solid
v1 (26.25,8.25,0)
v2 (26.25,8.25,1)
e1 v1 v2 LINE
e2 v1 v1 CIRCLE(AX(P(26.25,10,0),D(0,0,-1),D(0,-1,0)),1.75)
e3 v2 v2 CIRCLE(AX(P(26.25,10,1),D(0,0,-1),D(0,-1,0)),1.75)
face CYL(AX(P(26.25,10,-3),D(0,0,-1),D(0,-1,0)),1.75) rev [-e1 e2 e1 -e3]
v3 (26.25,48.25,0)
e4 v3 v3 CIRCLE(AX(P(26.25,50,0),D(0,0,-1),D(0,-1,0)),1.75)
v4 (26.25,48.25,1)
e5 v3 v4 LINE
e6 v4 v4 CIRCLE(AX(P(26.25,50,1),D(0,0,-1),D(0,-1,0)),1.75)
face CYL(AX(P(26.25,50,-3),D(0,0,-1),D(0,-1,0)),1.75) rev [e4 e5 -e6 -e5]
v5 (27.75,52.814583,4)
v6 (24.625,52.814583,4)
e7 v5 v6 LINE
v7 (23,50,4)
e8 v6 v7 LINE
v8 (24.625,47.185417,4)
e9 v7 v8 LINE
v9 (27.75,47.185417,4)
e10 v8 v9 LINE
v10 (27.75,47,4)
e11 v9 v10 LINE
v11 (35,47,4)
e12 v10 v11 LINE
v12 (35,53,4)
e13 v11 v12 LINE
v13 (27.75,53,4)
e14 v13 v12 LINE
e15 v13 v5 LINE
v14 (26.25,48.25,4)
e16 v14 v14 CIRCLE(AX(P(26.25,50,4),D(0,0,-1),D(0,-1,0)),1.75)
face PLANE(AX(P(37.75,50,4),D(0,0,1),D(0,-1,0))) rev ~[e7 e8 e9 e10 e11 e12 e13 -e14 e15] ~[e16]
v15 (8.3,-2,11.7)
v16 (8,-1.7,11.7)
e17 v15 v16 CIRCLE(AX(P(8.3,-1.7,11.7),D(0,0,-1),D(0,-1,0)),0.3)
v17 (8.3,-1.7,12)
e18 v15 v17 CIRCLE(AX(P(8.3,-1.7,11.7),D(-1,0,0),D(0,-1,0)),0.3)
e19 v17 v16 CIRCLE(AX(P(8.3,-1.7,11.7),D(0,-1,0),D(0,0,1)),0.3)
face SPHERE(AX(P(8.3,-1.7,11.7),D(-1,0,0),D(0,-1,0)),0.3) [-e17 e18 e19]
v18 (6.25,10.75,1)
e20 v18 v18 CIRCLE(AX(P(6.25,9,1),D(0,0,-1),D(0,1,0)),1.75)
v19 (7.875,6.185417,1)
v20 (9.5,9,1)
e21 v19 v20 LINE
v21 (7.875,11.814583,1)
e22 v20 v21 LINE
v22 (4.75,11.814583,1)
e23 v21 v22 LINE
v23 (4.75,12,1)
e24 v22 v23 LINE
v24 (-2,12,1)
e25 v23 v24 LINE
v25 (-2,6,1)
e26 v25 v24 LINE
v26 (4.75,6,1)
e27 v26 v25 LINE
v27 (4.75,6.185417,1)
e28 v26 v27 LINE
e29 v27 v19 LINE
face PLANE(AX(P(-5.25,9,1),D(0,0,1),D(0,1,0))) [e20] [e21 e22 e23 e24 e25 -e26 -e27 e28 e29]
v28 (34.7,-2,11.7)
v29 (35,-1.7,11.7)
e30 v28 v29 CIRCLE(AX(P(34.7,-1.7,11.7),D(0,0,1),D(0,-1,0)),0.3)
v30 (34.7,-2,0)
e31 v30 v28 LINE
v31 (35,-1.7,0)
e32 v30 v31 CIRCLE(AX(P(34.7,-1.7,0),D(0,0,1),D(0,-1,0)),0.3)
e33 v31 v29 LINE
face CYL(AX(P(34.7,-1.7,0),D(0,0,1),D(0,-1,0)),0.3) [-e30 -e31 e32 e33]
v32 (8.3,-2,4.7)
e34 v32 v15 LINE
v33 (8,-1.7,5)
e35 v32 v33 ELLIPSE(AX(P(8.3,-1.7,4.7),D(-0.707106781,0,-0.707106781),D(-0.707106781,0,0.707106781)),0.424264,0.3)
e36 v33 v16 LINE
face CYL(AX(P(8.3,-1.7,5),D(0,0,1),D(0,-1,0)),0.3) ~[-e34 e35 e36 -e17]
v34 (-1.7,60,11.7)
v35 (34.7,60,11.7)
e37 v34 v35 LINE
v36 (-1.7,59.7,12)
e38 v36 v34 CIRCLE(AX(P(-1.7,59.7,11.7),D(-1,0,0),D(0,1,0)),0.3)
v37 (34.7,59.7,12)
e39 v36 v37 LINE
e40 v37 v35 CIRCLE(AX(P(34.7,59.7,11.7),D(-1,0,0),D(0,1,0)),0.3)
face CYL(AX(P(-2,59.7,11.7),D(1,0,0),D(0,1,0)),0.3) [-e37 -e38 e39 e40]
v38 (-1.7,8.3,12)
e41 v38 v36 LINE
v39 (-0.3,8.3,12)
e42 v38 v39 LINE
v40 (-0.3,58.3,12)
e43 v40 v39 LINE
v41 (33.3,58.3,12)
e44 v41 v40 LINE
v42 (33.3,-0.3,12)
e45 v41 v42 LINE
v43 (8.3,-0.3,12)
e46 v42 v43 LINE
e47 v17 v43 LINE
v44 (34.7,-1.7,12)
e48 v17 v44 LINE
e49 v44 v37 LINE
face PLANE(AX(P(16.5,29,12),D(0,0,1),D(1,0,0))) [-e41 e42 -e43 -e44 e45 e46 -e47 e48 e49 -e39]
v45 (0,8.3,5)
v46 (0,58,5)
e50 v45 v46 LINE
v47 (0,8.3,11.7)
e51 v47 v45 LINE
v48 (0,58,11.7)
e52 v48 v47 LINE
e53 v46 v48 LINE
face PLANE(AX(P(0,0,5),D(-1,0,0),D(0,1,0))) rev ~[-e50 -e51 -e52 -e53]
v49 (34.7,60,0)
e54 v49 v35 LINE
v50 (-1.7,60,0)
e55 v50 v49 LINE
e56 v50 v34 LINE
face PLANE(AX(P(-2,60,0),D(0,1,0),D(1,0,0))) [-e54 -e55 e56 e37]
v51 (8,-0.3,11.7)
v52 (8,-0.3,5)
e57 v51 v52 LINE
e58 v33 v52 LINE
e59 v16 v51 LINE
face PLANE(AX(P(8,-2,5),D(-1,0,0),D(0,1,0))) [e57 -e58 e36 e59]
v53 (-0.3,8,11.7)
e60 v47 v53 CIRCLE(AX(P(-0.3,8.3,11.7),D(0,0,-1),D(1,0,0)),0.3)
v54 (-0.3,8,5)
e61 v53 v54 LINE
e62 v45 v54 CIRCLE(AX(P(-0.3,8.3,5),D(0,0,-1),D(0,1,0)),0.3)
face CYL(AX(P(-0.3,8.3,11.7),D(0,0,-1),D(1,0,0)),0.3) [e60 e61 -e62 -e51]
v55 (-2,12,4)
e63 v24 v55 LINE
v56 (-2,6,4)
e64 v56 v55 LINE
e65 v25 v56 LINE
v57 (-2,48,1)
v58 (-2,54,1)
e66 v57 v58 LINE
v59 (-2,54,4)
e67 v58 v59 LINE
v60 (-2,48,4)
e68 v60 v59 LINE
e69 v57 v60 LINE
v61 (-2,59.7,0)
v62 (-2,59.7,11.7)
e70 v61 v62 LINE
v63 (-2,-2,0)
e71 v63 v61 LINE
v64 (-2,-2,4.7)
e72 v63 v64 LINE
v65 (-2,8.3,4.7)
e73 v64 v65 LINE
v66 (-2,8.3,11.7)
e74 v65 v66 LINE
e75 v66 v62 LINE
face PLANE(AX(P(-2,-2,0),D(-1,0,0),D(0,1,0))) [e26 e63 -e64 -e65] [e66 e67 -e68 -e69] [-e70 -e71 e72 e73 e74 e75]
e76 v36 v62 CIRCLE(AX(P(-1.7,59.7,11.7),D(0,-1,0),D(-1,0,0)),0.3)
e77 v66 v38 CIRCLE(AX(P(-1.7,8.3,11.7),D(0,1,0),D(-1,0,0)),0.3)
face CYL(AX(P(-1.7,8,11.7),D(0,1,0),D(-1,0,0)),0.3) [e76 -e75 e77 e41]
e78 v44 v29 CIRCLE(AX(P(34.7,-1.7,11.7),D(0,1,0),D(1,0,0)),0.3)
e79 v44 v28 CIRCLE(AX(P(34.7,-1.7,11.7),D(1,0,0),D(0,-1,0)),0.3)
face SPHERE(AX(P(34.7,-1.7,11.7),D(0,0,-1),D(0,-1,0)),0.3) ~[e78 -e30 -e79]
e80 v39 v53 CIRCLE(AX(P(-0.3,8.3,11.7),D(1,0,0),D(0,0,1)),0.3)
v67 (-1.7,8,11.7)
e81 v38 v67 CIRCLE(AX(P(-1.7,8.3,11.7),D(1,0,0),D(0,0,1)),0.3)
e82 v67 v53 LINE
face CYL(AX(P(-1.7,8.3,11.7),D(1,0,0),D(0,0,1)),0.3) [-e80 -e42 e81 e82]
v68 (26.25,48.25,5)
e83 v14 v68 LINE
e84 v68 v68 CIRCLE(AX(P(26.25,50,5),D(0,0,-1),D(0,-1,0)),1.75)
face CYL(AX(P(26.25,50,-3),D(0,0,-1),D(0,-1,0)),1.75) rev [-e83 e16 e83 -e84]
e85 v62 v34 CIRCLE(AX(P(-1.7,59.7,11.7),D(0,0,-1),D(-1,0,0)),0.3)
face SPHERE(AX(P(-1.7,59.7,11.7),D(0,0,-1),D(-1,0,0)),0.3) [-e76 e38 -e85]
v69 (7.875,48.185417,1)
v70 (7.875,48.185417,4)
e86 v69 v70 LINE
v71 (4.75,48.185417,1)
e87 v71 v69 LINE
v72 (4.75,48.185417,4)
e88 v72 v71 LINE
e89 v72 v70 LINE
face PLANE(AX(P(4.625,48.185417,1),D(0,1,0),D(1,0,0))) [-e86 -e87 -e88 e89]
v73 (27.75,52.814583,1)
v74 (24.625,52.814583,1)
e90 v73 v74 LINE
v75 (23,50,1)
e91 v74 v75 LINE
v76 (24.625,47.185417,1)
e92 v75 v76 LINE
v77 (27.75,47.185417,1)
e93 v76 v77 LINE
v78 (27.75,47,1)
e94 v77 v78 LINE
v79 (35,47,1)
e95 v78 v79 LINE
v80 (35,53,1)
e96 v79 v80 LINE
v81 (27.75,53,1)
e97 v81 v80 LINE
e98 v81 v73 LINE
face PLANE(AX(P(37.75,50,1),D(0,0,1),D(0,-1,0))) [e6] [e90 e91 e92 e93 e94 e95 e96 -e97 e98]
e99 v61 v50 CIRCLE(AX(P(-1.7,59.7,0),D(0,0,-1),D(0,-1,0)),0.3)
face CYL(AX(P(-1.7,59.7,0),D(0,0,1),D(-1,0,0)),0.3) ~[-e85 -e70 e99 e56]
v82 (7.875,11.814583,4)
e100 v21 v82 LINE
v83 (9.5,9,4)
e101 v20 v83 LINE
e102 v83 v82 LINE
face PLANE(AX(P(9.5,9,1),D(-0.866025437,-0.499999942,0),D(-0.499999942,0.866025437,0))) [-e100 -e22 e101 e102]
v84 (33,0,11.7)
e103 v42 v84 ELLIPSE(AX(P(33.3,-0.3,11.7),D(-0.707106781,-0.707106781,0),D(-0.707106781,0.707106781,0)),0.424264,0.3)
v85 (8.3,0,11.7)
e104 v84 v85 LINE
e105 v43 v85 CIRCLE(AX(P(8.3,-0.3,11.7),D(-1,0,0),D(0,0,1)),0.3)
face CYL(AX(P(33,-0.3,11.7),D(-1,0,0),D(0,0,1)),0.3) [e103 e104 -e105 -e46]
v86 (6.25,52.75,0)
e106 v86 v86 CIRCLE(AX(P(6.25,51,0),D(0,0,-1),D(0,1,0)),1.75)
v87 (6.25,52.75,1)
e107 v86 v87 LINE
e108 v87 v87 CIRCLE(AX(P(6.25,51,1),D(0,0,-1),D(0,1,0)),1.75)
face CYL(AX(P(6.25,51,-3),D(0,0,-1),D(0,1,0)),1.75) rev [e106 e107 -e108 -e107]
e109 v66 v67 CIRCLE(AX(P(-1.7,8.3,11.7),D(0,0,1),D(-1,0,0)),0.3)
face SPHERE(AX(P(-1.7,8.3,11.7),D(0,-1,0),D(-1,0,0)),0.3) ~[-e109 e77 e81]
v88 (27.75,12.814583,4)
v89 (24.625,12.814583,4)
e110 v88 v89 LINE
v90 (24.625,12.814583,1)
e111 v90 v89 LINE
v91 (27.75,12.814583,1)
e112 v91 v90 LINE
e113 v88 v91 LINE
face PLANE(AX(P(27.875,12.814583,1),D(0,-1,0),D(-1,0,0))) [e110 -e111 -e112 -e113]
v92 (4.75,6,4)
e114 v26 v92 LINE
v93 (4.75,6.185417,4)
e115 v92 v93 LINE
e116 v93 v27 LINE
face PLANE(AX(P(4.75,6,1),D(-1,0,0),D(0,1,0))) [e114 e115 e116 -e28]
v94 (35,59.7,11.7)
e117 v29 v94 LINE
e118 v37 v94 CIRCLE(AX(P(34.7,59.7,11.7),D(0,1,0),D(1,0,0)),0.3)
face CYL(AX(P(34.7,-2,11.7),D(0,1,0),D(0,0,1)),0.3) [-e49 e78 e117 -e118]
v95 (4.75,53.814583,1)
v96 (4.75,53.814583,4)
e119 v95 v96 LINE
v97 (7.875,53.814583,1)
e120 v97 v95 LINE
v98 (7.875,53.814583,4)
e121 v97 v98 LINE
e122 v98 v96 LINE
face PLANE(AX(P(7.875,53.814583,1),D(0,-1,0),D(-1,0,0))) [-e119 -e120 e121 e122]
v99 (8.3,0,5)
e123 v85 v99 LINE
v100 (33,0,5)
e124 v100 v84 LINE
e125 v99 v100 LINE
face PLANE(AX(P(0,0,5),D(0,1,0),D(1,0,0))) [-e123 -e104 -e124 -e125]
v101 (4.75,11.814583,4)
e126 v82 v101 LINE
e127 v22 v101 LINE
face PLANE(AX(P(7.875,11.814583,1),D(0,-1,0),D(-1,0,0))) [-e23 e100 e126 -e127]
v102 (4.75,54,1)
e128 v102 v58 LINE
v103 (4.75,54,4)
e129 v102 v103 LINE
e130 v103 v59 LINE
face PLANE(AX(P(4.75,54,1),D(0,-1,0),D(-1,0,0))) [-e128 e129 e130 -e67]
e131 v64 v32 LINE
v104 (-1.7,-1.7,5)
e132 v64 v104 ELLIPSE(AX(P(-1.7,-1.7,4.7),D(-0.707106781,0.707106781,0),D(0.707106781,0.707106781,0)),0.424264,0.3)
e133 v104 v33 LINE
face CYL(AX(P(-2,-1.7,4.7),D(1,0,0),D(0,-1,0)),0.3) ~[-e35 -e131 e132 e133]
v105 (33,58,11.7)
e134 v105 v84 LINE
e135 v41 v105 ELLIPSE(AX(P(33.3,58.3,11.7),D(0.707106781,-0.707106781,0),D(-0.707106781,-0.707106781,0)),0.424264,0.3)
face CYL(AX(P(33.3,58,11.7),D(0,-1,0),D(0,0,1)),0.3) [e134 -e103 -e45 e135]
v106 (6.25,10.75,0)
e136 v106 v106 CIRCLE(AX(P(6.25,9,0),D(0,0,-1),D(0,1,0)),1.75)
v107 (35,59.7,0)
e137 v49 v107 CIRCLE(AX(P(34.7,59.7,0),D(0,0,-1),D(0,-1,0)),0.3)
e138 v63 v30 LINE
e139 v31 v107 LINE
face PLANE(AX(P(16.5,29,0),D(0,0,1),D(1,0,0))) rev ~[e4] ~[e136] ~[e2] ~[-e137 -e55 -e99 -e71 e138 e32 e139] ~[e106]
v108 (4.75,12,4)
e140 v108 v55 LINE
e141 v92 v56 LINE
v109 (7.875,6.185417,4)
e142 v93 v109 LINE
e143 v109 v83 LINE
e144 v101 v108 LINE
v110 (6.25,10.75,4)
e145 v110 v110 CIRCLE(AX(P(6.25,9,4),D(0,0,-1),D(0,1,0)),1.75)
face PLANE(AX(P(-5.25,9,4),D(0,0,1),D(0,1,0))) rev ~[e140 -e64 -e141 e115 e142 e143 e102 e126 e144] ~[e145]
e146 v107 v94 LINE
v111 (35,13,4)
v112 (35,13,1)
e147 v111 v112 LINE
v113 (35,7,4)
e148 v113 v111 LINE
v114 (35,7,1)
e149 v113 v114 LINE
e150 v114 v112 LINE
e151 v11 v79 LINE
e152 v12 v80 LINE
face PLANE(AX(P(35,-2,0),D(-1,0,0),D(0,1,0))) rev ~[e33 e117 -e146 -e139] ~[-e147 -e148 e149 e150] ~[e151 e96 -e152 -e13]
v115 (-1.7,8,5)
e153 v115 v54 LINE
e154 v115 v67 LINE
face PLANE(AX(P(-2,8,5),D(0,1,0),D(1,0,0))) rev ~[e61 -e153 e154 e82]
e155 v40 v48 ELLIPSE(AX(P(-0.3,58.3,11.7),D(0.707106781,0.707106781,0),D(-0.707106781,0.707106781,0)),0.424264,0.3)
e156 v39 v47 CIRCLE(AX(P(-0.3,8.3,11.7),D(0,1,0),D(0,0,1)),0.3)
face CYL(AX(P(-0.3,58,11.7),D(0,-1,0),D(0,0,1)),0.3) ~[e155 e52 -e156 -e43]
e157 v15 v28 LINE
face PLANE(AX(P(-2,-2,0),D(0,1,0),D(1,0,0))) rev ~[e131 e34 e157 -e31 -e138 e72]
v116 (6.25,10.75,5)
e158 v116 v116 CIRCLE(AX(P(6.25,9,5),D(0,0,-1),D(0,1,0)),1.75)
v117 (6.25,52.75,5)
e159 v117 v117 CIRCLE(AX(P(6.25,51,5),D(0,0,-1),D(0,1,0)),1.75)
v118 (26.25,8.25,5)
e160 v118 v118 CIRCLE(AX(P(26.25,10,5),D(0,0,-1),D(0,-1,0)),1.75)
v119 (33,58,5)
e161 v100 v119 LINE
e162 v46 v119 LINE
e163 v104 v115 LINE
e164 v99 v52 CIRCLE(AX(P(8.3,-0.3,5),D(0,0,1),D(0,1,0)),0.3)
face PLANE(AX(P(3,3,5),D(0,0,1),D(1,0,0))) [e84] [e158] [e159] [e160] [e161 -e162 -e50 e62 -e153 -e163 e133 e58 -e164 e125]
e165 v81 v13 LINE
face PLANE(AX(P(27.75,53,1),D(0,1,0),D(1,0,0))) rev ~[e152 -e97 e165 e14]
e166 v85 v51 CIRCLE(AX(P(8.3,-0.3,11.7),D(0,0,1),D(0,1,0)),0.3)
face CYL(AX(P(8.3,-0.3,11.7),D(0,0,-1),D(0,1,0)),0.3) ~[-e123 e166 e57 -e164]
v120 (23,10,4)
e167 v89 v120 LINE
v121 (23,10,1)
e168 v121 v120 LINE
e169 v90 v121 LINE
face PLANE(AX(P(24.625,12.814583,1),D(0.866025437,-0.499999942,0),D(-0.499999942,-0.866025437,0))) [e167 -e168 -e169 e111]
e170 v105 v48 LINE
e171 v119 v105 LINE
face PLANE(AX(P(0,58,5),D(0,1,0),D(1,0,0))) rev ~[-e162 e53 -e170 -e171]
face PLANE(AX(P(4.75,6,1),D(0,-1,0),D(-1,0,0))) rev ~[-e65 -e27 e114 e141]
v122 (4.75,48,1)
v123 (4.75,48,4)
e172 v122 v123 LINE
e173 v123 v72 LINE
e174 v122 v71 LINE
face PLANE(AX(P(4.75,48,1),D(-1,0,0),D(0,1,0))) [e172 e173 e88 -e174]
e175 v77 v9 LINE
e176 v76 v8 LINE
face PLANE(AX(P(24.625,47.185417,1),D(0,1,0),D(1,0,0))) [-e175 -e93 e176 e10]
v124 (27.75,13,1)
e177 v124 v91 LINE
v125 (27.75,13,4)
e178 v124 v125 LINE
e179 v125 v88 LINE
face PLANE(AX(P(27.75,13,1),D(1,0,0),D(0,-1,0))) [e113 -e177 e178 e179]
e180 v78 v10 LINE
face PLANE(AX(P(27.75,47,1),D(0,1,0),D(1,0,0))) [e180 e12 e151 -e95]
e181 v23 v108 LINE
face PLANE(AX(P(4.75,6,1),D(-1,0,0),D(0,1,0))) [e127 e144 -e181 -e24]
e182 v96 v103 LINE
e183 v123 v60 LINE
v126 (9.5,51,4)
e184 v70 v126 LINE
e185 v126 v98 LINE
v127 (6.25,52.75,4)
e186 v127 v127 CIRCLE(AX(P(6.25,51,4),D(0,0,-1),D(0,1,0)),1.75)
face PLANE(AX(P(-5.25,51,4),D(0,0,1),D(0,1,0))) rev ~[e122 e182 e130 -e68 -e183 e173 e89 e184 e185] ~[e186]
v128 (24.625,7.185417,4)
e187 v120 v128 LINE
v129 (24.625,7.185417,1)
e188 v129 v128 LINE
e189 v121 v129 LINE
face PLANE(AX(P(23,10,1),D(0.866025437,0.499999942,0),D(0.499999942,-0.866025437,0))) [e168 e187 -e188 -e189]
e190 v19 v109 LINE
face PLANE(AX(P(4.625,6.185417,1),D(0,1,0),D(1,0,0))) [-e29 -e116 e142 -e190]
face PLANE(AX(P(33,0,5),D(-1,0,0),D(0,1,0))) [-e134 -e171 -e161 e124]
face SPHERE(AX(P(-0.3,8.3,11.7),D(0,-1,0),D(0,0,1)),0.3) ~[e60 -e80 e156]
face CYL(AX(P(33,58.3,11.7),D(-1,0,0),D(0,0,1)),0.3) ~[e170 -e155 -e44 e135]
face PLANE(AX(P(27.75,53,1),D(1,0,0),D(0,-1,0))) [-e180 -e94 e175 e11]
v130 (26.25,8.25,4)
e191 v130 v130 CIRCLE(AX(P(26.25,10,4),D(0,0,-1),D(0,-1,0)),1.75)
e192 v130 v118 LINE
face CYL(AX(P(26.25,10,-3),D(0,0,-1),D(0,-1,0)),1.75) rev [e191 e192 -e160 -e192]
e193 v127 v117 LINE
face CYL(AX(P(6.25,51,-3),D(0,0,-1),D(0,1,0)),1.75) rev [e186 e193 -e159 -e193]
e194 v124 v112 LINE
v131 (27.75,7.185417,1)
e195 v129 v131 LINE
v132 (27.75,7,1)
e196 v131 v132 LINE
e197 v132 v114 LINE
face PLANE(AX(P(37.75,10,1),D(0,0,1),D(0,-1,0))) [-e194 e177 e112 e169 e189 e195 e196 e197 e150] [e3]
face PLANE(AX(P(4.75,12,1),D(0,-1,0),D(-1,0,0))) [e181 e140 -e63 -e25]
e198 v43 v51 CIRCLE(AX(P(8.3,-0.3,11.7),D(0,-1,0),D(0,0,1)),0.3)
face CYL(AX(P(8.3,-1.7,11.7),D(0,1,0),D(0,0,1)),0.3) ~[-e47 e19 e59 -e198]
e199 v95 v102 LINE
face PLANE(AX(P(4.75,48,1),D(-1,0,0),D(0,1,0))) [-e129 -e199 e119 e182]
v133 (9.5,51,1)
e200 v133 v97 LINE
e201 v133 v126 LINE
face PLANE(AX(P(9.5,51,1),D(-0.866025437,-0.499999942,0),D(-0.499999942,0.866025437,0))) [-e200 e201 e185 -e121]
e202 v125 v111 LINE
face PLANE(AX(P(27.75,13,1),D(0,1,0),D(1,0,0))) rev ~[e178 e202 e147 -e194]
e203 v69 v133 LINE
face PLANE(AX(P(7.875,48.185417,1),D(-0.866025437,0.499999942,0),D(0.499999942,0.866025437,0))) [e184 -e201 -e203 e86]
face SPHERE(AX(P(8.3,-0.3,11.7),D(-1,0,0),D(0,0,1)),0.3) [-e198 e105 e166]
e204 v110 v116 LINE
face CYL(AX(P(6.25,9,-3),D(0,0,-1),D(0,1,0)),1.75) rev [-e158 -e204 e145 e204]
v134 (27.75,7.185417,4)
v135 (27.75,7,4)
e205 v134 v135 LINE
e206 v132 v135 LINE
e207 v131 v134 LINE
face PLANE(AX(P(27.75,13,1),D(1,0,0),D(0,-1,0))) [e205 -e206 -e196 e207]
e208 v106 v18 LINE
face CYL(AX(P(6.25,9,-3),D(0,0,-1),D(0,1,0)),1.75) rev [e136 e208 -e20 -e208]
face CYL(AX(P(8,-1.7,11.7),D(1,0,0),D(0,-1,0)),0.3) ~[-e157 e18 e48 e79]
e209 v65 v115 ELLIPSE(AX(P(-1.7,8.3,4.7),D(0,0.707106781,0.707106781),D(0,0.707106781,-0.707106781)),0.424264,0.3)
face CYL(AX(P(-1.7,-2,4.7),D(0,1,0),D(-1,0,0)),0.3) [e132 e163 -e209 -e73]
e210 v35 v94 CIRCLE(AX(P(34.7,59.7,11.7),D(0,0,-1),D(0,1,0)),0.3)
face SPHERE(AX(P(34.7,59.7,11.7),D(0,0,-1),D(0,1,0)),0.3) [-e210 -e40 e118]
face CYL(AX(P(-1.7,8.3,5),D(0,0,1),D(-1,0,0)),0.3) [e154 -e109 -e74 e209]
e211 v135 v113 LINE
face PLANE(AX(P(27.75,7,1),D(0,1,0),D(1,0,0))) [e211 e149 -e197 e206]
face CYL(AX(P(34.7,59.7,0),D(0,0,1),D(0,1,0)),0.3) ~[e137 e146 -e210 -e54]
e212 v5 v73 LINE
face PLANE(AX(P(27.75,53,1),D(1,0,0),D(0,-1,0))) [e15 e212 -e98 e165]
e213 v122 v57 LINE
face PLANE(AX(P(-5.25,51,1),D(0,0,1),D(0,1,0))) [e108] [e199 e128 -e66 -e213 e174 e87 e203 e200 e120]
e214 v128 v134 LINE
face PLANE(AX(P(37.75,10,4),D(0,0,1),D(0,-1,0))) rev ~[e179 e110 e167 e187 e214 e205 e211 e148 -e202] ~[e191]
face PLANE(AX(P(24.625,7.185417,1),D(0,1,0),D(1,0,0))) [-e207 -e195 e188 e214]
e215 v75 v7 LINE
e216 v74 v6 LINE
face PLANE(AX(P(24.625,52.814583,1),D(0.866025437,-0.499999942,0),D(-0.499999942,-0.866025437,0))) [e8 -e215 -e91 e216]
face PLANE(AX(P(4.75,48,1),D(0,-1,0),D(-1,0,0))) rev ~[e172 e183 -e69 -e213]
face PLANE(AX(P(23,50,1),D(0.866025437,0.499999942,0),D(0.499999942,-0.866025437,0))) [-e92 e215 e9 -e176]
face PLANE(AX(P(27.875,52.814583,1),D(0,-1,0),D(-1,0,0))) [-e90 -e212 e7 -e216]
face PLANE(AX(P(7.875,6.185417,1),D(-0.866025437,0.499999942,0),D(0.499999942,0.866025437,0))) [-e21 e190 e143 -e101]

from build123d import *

# Parameters (mm, degrees)
PRISM003_DEPTH            = 3
CYLINDER005_R             = 1.75
CYLINDER005_DEPTH         = 20
BOX004_W                  = 6
BOX004_H                  = 20
BOX004_DEPTH              = 3
FUSION001_PLACEMENT_ANGLE = 90
PRISM004_DEPTH            = 3
CYLINDER006_R             = 1.75
CYLINDER006_DEPTH         = 20
BOX005_W                  = 6
BOX005_H                  = 20
BOX005_DEPTH              = 3
FUSION002_PLACEMENT_ANGLE = 270
PRISM005_DEPTH            = 3
CYLINDER007_R             = 1.75
CYLINDER007_DEPTH         = 20
BOX006_W                  = 6
BOX006_H                  = 20
BOX006_DEPTH              = 3
FUSION003_PLACEMENT_ANGLE = 90
PRISM002_DEPTH            = 3
CYLINDER004_R             = 1.75
CYLINDER004_DEPTH         = 20
BOX003_W                  = 6
BOX003_H                  = 20
BOX003_DEPTH              = 3
FUSION_PLACEMENT_ANGLE    = 90
BOX002_W                  = 10
BOX002_H                  = 10
BOX002_DEPTH              = 10
BOX_W                     = 33
BOX_H                     = 58
BOX_DEPTH                 = 10
BOX001_W                  = 37
BOX001_H                  = 62
BOX001_DEPTH              = 12
FILLET_R                  = 0.3
FILLET001_R               = 0.3


with BuildPart() as prisma003:
    # Prism003 → Prism003 (new body)
    with BuildSketch(Plane(origin=(34, 7.5, 3), x_dir=(0, 1, 0), z_dir=(0, 0, 1))):
        Polygon((3.25, 0), (1.625, 2.814583), (-1.625, 2.814583), (-3.25, 0), (-1.625, -2.814583), (1.625, -2.814583), align=None)
    extrude(amount=PRISM003_DEPTH)


with BuildPart() as cilindro005:
    # Cylinder005 → Cylinder005 (new body)
    with BuildSketch(Plane(origin=(34, 7.5, -1), x_dir=(1, 0, 0), z_dir=(0, 0, 1))):
        Circle(CYLINDER005_R)
    extrude(amount=CYLINDER005_DEPTH)


with BuildPart() as fusion001:
    # Box004 → Box004 (new body)
    with BuildSketch(Plane(origin=(31, 9, 3), x_dir=(1, 0, 0), z_dir=(0, 0, 1))):
        with Locations((3, 10)):
            Rectangle(BOX004_W, BOX004_H)
    extrude(amount=BOX004_DEPTH)

    # Fusion001: union Prisma003, Cilindro005
    add(prisma003.part)
    add(cilindro005.part)


with BuildPart() as fusion001_1:
    # Fusion001 placement: moved
    add(fusion001.part.moved(Location((13.75, -25, -2))).rotate(Axis((13.75, -25, -2), (0, 0, 1)), FUSION001_PLACEMENT_ANGLE))


with BuildPart() as prisma004:
    # Prism004 → Prism004 (new body)
    with BuildSketch(Plane(origin=(34, 7.5, 3), x_dir=(0, 1, 0), z_dir=(0, 0, 1))):
        Polygon((3.25, 0), (1.625, 2.814583), (-1.625, 2.814583), (-3.25, 0), (-1.625, -2.814583), (1.625, -2.814583), align=None)
    extrude(amount=PRISM004_DEPTH)


with BuildPart() as cilindro006:
    # Cylinder006 → Cylinder006 (new body)
    with BuildSketch(Plane(origin=(34, 7.5, -1), x_dir=(1, 0, 0), z_dir=(0, 0, 1))):
        Circle(CYLINDER006_R)
    extrude(amount=CYLINDER006_DEPTH)


with BuildPart() as fusion002:
    # Box005 → Box005 (new body)
    with BuildSketch(Plane(origin=(31, 9, 3), x_dir=(1, 0, 0), z_dir=(0, 0, 1))):
        with Locations((3, 10)):
            Rectangle(BOX005_W, BOX005_H)
    extrude(amount=BOX005_DEPTH)

    # Fusion002: union Prisma004, Cilindro006
    add(prisma004.part)
    add(cilindro006.part)


with BuildPart() as fusion002_1:
    # Fusion002 placement: moved
    add(fusion002.part.moved(Location((18.75, 44, -2))).rotate(Axis((18.75, 44, -2), (0, 0, 1)), FUSION002_PLACEMENT_ANGLE))


with BuildPart() as prisma005:
    # Prism005 → Prism005 (new body)
    with BuildSketch(Plane(origin=(34, 7.5, 3), x_dir=(0, 1, 0), z_dir=(0, 0, 1))):
        Polygon((3.25, 0), (1.625, 2.814583), (-1.625, 2.814583), (-3.25, 0), (-1.625, -2.814583), (1.625, -2.814583), align=None)
    extrude(amount=PRISM005_DEPTH)


with BuildPart() as cilindro007:
    # Cylinder007 → Cylinder007 (new body)
    with BuildSketch(Plane(origin=(34, 7.5, -1), x_dir=(1, 0, 0), z_dir=(0, 0, 1))):
        Circle(CYLINDER007_R)
    extrude(amount=CYLINDER007_DEPTH)


with BuildPart() as fusion003:
    # Box006 → Box006 (new body)
    with BuildSketch(Plane(origin=(31, 9, 3), x_dir=(1, 0, 0), z_dir=(0, 0, 1))):
        with Locations((3, 10)):
            Rectangle(BOX006_W, BOX006_H)
    extrude(amount=BOX006_DEPTH)

    # Fusion003: union Prisma005, Cilindro007
    add(prisma005.part)
    add(cilindro007.part)


with BuildPart() as fusion003_1:
    # Fusion003 placement: moved
    add(fusion003.part.moved(Location((18.75, 84, -2))).rotate(Axis((18.75, 84, -2), (0, 0, -1)), FUSION003_PLACEMENT_ANGLE))


with BuildPart() as prisma002:
    # Prism002 → Prism002 (new body)
    with BuildSketch(Plane(origin=(34, 7.5, 3), x_dir=(0, 1, 0), z_dir=(0, 0, 1))):
        Polygon((3.25, 0), (1.625, 2.814583), (-1.625, 2.814583), (-3.25, 0), (-1.625, -2.814583), (1.625, -2.814583), align=None)
    extrude(amount=PRISM002_DEPTH)


with BuildPart() as cilindro004:
    # Cylinder004 → Cylinder004 (new body)
    with BuildSketch(Plane(origin=(34, 7.5, -1), x_dir=(1, 0, 0), z_dir=(0, 0, 1))):
        Circle(CYLINDER004_R)
    extrude(amount=CYLINDER004_DEPTH)


with BuildPart() as fusion004:
    # Box003 → Box003 (new body)
    with BuildSketch(Plane(origin=(31, 9, 3), x_dir=(1, 0, 0), z_dir=(0, 0, 1))):
        with Locations((3, 10)):
            Rectangle(BOX003_W, BOX003_H)
    extrude(amount=BOX003_DEPTH)

    # Fusion: union Prisma002, Cilindro004
    add(prisma002.part)
    add(cilindro004.part)


with BuildPart() as fusion004_1:
    # Fusion placement: moved
    add(fusion004.part.moved(Location((13.75, 17, -2))).rotate(Axis((13.75, 17, -2), (0, 0, 1)), FUSION_PLACEMENT_ANGLE))

    # Fusion004: union Fusion001, Fusion002, Fusion003
    add(fusion001_1.part)
    add(fusion002_1.part)
    add(fusion003_1.part)


with BuildPart() as cubo002:
    # Box002 → Box002 (new body)
    with BuildSketch(Plane(origin=(-2, -2, 5), x_dir=(1, 0, 0), z_dir=(0, 0, 1))):
        with Locations((5, 5)):
            Rectangle(BOX002_W, BOX002_H)
    extrude(amount=BOX002_DEPTH)


with BuildPart() as cubo:
    # Box → Box (new body)
    with BuildSketch(Plane.XY.offset(5)):
        with Locations((16.5, 29)):
            Rectangle(BOX_W, BOX_H)
    extrude(amount=BOX_DEPTH)


with BuildPart() as fillet001:
    # Box001 → Box001 (new body)
    with BuildSketch(Plane(origin=(-2, -2, 0), x_dir=(1, 0, 0), z_dir=(0, 0, 1))):
        with Locations((18.5, 31)):
            Rectangle(BOX001_W, BOX001_H)
    extrude(amount=BOX001_DEPTH)

    # Cut: cut Cubo
    add(cubo.part, mode=Mode.SUBTRACT)

    # Cut001: cut Cubo002
    add(cubo002.part, mode=Mode.SUBTRACT)

    # Cut002: cut Fusion004
    add(fusion004_1.part, mode=Mode.SUBTRACT)

    # Fillet
    fillet_edges = [fillet001.edges().sort_by_distance(p)[0] for p in [
        (-2, 60, 6),
        (-2, 34, 12),
        (35, -2, 6),
        (21.5, -2, 12),
        (35, 60, 6),
        (16.5, 60, 12),
        (35, 29, 12),
        (20.5, 0, 12),
        (33, 29, 12),
        (16.5, 58, 12),
        (0, 33, 12),
    ]]
    fillet(fillet_edges, radius=FILLET_R)

    # Fillet001
    fillet001_edges = [fillet001.edges().sort_by_distance(p)[0] for p in [
        (-2, 3, 5),
        (-2, 8, 8.35),
        (8, -2, 8.35),
        (3, -2, 5),
        (0, 8, 8.35),
        (-1, 8, 12),
        (8, 0, 8.35),
        (8, -1, 12),
    ]]
    fillet(fillet001_edges, radius=FILLET001_R)


solid = fillet001.part
